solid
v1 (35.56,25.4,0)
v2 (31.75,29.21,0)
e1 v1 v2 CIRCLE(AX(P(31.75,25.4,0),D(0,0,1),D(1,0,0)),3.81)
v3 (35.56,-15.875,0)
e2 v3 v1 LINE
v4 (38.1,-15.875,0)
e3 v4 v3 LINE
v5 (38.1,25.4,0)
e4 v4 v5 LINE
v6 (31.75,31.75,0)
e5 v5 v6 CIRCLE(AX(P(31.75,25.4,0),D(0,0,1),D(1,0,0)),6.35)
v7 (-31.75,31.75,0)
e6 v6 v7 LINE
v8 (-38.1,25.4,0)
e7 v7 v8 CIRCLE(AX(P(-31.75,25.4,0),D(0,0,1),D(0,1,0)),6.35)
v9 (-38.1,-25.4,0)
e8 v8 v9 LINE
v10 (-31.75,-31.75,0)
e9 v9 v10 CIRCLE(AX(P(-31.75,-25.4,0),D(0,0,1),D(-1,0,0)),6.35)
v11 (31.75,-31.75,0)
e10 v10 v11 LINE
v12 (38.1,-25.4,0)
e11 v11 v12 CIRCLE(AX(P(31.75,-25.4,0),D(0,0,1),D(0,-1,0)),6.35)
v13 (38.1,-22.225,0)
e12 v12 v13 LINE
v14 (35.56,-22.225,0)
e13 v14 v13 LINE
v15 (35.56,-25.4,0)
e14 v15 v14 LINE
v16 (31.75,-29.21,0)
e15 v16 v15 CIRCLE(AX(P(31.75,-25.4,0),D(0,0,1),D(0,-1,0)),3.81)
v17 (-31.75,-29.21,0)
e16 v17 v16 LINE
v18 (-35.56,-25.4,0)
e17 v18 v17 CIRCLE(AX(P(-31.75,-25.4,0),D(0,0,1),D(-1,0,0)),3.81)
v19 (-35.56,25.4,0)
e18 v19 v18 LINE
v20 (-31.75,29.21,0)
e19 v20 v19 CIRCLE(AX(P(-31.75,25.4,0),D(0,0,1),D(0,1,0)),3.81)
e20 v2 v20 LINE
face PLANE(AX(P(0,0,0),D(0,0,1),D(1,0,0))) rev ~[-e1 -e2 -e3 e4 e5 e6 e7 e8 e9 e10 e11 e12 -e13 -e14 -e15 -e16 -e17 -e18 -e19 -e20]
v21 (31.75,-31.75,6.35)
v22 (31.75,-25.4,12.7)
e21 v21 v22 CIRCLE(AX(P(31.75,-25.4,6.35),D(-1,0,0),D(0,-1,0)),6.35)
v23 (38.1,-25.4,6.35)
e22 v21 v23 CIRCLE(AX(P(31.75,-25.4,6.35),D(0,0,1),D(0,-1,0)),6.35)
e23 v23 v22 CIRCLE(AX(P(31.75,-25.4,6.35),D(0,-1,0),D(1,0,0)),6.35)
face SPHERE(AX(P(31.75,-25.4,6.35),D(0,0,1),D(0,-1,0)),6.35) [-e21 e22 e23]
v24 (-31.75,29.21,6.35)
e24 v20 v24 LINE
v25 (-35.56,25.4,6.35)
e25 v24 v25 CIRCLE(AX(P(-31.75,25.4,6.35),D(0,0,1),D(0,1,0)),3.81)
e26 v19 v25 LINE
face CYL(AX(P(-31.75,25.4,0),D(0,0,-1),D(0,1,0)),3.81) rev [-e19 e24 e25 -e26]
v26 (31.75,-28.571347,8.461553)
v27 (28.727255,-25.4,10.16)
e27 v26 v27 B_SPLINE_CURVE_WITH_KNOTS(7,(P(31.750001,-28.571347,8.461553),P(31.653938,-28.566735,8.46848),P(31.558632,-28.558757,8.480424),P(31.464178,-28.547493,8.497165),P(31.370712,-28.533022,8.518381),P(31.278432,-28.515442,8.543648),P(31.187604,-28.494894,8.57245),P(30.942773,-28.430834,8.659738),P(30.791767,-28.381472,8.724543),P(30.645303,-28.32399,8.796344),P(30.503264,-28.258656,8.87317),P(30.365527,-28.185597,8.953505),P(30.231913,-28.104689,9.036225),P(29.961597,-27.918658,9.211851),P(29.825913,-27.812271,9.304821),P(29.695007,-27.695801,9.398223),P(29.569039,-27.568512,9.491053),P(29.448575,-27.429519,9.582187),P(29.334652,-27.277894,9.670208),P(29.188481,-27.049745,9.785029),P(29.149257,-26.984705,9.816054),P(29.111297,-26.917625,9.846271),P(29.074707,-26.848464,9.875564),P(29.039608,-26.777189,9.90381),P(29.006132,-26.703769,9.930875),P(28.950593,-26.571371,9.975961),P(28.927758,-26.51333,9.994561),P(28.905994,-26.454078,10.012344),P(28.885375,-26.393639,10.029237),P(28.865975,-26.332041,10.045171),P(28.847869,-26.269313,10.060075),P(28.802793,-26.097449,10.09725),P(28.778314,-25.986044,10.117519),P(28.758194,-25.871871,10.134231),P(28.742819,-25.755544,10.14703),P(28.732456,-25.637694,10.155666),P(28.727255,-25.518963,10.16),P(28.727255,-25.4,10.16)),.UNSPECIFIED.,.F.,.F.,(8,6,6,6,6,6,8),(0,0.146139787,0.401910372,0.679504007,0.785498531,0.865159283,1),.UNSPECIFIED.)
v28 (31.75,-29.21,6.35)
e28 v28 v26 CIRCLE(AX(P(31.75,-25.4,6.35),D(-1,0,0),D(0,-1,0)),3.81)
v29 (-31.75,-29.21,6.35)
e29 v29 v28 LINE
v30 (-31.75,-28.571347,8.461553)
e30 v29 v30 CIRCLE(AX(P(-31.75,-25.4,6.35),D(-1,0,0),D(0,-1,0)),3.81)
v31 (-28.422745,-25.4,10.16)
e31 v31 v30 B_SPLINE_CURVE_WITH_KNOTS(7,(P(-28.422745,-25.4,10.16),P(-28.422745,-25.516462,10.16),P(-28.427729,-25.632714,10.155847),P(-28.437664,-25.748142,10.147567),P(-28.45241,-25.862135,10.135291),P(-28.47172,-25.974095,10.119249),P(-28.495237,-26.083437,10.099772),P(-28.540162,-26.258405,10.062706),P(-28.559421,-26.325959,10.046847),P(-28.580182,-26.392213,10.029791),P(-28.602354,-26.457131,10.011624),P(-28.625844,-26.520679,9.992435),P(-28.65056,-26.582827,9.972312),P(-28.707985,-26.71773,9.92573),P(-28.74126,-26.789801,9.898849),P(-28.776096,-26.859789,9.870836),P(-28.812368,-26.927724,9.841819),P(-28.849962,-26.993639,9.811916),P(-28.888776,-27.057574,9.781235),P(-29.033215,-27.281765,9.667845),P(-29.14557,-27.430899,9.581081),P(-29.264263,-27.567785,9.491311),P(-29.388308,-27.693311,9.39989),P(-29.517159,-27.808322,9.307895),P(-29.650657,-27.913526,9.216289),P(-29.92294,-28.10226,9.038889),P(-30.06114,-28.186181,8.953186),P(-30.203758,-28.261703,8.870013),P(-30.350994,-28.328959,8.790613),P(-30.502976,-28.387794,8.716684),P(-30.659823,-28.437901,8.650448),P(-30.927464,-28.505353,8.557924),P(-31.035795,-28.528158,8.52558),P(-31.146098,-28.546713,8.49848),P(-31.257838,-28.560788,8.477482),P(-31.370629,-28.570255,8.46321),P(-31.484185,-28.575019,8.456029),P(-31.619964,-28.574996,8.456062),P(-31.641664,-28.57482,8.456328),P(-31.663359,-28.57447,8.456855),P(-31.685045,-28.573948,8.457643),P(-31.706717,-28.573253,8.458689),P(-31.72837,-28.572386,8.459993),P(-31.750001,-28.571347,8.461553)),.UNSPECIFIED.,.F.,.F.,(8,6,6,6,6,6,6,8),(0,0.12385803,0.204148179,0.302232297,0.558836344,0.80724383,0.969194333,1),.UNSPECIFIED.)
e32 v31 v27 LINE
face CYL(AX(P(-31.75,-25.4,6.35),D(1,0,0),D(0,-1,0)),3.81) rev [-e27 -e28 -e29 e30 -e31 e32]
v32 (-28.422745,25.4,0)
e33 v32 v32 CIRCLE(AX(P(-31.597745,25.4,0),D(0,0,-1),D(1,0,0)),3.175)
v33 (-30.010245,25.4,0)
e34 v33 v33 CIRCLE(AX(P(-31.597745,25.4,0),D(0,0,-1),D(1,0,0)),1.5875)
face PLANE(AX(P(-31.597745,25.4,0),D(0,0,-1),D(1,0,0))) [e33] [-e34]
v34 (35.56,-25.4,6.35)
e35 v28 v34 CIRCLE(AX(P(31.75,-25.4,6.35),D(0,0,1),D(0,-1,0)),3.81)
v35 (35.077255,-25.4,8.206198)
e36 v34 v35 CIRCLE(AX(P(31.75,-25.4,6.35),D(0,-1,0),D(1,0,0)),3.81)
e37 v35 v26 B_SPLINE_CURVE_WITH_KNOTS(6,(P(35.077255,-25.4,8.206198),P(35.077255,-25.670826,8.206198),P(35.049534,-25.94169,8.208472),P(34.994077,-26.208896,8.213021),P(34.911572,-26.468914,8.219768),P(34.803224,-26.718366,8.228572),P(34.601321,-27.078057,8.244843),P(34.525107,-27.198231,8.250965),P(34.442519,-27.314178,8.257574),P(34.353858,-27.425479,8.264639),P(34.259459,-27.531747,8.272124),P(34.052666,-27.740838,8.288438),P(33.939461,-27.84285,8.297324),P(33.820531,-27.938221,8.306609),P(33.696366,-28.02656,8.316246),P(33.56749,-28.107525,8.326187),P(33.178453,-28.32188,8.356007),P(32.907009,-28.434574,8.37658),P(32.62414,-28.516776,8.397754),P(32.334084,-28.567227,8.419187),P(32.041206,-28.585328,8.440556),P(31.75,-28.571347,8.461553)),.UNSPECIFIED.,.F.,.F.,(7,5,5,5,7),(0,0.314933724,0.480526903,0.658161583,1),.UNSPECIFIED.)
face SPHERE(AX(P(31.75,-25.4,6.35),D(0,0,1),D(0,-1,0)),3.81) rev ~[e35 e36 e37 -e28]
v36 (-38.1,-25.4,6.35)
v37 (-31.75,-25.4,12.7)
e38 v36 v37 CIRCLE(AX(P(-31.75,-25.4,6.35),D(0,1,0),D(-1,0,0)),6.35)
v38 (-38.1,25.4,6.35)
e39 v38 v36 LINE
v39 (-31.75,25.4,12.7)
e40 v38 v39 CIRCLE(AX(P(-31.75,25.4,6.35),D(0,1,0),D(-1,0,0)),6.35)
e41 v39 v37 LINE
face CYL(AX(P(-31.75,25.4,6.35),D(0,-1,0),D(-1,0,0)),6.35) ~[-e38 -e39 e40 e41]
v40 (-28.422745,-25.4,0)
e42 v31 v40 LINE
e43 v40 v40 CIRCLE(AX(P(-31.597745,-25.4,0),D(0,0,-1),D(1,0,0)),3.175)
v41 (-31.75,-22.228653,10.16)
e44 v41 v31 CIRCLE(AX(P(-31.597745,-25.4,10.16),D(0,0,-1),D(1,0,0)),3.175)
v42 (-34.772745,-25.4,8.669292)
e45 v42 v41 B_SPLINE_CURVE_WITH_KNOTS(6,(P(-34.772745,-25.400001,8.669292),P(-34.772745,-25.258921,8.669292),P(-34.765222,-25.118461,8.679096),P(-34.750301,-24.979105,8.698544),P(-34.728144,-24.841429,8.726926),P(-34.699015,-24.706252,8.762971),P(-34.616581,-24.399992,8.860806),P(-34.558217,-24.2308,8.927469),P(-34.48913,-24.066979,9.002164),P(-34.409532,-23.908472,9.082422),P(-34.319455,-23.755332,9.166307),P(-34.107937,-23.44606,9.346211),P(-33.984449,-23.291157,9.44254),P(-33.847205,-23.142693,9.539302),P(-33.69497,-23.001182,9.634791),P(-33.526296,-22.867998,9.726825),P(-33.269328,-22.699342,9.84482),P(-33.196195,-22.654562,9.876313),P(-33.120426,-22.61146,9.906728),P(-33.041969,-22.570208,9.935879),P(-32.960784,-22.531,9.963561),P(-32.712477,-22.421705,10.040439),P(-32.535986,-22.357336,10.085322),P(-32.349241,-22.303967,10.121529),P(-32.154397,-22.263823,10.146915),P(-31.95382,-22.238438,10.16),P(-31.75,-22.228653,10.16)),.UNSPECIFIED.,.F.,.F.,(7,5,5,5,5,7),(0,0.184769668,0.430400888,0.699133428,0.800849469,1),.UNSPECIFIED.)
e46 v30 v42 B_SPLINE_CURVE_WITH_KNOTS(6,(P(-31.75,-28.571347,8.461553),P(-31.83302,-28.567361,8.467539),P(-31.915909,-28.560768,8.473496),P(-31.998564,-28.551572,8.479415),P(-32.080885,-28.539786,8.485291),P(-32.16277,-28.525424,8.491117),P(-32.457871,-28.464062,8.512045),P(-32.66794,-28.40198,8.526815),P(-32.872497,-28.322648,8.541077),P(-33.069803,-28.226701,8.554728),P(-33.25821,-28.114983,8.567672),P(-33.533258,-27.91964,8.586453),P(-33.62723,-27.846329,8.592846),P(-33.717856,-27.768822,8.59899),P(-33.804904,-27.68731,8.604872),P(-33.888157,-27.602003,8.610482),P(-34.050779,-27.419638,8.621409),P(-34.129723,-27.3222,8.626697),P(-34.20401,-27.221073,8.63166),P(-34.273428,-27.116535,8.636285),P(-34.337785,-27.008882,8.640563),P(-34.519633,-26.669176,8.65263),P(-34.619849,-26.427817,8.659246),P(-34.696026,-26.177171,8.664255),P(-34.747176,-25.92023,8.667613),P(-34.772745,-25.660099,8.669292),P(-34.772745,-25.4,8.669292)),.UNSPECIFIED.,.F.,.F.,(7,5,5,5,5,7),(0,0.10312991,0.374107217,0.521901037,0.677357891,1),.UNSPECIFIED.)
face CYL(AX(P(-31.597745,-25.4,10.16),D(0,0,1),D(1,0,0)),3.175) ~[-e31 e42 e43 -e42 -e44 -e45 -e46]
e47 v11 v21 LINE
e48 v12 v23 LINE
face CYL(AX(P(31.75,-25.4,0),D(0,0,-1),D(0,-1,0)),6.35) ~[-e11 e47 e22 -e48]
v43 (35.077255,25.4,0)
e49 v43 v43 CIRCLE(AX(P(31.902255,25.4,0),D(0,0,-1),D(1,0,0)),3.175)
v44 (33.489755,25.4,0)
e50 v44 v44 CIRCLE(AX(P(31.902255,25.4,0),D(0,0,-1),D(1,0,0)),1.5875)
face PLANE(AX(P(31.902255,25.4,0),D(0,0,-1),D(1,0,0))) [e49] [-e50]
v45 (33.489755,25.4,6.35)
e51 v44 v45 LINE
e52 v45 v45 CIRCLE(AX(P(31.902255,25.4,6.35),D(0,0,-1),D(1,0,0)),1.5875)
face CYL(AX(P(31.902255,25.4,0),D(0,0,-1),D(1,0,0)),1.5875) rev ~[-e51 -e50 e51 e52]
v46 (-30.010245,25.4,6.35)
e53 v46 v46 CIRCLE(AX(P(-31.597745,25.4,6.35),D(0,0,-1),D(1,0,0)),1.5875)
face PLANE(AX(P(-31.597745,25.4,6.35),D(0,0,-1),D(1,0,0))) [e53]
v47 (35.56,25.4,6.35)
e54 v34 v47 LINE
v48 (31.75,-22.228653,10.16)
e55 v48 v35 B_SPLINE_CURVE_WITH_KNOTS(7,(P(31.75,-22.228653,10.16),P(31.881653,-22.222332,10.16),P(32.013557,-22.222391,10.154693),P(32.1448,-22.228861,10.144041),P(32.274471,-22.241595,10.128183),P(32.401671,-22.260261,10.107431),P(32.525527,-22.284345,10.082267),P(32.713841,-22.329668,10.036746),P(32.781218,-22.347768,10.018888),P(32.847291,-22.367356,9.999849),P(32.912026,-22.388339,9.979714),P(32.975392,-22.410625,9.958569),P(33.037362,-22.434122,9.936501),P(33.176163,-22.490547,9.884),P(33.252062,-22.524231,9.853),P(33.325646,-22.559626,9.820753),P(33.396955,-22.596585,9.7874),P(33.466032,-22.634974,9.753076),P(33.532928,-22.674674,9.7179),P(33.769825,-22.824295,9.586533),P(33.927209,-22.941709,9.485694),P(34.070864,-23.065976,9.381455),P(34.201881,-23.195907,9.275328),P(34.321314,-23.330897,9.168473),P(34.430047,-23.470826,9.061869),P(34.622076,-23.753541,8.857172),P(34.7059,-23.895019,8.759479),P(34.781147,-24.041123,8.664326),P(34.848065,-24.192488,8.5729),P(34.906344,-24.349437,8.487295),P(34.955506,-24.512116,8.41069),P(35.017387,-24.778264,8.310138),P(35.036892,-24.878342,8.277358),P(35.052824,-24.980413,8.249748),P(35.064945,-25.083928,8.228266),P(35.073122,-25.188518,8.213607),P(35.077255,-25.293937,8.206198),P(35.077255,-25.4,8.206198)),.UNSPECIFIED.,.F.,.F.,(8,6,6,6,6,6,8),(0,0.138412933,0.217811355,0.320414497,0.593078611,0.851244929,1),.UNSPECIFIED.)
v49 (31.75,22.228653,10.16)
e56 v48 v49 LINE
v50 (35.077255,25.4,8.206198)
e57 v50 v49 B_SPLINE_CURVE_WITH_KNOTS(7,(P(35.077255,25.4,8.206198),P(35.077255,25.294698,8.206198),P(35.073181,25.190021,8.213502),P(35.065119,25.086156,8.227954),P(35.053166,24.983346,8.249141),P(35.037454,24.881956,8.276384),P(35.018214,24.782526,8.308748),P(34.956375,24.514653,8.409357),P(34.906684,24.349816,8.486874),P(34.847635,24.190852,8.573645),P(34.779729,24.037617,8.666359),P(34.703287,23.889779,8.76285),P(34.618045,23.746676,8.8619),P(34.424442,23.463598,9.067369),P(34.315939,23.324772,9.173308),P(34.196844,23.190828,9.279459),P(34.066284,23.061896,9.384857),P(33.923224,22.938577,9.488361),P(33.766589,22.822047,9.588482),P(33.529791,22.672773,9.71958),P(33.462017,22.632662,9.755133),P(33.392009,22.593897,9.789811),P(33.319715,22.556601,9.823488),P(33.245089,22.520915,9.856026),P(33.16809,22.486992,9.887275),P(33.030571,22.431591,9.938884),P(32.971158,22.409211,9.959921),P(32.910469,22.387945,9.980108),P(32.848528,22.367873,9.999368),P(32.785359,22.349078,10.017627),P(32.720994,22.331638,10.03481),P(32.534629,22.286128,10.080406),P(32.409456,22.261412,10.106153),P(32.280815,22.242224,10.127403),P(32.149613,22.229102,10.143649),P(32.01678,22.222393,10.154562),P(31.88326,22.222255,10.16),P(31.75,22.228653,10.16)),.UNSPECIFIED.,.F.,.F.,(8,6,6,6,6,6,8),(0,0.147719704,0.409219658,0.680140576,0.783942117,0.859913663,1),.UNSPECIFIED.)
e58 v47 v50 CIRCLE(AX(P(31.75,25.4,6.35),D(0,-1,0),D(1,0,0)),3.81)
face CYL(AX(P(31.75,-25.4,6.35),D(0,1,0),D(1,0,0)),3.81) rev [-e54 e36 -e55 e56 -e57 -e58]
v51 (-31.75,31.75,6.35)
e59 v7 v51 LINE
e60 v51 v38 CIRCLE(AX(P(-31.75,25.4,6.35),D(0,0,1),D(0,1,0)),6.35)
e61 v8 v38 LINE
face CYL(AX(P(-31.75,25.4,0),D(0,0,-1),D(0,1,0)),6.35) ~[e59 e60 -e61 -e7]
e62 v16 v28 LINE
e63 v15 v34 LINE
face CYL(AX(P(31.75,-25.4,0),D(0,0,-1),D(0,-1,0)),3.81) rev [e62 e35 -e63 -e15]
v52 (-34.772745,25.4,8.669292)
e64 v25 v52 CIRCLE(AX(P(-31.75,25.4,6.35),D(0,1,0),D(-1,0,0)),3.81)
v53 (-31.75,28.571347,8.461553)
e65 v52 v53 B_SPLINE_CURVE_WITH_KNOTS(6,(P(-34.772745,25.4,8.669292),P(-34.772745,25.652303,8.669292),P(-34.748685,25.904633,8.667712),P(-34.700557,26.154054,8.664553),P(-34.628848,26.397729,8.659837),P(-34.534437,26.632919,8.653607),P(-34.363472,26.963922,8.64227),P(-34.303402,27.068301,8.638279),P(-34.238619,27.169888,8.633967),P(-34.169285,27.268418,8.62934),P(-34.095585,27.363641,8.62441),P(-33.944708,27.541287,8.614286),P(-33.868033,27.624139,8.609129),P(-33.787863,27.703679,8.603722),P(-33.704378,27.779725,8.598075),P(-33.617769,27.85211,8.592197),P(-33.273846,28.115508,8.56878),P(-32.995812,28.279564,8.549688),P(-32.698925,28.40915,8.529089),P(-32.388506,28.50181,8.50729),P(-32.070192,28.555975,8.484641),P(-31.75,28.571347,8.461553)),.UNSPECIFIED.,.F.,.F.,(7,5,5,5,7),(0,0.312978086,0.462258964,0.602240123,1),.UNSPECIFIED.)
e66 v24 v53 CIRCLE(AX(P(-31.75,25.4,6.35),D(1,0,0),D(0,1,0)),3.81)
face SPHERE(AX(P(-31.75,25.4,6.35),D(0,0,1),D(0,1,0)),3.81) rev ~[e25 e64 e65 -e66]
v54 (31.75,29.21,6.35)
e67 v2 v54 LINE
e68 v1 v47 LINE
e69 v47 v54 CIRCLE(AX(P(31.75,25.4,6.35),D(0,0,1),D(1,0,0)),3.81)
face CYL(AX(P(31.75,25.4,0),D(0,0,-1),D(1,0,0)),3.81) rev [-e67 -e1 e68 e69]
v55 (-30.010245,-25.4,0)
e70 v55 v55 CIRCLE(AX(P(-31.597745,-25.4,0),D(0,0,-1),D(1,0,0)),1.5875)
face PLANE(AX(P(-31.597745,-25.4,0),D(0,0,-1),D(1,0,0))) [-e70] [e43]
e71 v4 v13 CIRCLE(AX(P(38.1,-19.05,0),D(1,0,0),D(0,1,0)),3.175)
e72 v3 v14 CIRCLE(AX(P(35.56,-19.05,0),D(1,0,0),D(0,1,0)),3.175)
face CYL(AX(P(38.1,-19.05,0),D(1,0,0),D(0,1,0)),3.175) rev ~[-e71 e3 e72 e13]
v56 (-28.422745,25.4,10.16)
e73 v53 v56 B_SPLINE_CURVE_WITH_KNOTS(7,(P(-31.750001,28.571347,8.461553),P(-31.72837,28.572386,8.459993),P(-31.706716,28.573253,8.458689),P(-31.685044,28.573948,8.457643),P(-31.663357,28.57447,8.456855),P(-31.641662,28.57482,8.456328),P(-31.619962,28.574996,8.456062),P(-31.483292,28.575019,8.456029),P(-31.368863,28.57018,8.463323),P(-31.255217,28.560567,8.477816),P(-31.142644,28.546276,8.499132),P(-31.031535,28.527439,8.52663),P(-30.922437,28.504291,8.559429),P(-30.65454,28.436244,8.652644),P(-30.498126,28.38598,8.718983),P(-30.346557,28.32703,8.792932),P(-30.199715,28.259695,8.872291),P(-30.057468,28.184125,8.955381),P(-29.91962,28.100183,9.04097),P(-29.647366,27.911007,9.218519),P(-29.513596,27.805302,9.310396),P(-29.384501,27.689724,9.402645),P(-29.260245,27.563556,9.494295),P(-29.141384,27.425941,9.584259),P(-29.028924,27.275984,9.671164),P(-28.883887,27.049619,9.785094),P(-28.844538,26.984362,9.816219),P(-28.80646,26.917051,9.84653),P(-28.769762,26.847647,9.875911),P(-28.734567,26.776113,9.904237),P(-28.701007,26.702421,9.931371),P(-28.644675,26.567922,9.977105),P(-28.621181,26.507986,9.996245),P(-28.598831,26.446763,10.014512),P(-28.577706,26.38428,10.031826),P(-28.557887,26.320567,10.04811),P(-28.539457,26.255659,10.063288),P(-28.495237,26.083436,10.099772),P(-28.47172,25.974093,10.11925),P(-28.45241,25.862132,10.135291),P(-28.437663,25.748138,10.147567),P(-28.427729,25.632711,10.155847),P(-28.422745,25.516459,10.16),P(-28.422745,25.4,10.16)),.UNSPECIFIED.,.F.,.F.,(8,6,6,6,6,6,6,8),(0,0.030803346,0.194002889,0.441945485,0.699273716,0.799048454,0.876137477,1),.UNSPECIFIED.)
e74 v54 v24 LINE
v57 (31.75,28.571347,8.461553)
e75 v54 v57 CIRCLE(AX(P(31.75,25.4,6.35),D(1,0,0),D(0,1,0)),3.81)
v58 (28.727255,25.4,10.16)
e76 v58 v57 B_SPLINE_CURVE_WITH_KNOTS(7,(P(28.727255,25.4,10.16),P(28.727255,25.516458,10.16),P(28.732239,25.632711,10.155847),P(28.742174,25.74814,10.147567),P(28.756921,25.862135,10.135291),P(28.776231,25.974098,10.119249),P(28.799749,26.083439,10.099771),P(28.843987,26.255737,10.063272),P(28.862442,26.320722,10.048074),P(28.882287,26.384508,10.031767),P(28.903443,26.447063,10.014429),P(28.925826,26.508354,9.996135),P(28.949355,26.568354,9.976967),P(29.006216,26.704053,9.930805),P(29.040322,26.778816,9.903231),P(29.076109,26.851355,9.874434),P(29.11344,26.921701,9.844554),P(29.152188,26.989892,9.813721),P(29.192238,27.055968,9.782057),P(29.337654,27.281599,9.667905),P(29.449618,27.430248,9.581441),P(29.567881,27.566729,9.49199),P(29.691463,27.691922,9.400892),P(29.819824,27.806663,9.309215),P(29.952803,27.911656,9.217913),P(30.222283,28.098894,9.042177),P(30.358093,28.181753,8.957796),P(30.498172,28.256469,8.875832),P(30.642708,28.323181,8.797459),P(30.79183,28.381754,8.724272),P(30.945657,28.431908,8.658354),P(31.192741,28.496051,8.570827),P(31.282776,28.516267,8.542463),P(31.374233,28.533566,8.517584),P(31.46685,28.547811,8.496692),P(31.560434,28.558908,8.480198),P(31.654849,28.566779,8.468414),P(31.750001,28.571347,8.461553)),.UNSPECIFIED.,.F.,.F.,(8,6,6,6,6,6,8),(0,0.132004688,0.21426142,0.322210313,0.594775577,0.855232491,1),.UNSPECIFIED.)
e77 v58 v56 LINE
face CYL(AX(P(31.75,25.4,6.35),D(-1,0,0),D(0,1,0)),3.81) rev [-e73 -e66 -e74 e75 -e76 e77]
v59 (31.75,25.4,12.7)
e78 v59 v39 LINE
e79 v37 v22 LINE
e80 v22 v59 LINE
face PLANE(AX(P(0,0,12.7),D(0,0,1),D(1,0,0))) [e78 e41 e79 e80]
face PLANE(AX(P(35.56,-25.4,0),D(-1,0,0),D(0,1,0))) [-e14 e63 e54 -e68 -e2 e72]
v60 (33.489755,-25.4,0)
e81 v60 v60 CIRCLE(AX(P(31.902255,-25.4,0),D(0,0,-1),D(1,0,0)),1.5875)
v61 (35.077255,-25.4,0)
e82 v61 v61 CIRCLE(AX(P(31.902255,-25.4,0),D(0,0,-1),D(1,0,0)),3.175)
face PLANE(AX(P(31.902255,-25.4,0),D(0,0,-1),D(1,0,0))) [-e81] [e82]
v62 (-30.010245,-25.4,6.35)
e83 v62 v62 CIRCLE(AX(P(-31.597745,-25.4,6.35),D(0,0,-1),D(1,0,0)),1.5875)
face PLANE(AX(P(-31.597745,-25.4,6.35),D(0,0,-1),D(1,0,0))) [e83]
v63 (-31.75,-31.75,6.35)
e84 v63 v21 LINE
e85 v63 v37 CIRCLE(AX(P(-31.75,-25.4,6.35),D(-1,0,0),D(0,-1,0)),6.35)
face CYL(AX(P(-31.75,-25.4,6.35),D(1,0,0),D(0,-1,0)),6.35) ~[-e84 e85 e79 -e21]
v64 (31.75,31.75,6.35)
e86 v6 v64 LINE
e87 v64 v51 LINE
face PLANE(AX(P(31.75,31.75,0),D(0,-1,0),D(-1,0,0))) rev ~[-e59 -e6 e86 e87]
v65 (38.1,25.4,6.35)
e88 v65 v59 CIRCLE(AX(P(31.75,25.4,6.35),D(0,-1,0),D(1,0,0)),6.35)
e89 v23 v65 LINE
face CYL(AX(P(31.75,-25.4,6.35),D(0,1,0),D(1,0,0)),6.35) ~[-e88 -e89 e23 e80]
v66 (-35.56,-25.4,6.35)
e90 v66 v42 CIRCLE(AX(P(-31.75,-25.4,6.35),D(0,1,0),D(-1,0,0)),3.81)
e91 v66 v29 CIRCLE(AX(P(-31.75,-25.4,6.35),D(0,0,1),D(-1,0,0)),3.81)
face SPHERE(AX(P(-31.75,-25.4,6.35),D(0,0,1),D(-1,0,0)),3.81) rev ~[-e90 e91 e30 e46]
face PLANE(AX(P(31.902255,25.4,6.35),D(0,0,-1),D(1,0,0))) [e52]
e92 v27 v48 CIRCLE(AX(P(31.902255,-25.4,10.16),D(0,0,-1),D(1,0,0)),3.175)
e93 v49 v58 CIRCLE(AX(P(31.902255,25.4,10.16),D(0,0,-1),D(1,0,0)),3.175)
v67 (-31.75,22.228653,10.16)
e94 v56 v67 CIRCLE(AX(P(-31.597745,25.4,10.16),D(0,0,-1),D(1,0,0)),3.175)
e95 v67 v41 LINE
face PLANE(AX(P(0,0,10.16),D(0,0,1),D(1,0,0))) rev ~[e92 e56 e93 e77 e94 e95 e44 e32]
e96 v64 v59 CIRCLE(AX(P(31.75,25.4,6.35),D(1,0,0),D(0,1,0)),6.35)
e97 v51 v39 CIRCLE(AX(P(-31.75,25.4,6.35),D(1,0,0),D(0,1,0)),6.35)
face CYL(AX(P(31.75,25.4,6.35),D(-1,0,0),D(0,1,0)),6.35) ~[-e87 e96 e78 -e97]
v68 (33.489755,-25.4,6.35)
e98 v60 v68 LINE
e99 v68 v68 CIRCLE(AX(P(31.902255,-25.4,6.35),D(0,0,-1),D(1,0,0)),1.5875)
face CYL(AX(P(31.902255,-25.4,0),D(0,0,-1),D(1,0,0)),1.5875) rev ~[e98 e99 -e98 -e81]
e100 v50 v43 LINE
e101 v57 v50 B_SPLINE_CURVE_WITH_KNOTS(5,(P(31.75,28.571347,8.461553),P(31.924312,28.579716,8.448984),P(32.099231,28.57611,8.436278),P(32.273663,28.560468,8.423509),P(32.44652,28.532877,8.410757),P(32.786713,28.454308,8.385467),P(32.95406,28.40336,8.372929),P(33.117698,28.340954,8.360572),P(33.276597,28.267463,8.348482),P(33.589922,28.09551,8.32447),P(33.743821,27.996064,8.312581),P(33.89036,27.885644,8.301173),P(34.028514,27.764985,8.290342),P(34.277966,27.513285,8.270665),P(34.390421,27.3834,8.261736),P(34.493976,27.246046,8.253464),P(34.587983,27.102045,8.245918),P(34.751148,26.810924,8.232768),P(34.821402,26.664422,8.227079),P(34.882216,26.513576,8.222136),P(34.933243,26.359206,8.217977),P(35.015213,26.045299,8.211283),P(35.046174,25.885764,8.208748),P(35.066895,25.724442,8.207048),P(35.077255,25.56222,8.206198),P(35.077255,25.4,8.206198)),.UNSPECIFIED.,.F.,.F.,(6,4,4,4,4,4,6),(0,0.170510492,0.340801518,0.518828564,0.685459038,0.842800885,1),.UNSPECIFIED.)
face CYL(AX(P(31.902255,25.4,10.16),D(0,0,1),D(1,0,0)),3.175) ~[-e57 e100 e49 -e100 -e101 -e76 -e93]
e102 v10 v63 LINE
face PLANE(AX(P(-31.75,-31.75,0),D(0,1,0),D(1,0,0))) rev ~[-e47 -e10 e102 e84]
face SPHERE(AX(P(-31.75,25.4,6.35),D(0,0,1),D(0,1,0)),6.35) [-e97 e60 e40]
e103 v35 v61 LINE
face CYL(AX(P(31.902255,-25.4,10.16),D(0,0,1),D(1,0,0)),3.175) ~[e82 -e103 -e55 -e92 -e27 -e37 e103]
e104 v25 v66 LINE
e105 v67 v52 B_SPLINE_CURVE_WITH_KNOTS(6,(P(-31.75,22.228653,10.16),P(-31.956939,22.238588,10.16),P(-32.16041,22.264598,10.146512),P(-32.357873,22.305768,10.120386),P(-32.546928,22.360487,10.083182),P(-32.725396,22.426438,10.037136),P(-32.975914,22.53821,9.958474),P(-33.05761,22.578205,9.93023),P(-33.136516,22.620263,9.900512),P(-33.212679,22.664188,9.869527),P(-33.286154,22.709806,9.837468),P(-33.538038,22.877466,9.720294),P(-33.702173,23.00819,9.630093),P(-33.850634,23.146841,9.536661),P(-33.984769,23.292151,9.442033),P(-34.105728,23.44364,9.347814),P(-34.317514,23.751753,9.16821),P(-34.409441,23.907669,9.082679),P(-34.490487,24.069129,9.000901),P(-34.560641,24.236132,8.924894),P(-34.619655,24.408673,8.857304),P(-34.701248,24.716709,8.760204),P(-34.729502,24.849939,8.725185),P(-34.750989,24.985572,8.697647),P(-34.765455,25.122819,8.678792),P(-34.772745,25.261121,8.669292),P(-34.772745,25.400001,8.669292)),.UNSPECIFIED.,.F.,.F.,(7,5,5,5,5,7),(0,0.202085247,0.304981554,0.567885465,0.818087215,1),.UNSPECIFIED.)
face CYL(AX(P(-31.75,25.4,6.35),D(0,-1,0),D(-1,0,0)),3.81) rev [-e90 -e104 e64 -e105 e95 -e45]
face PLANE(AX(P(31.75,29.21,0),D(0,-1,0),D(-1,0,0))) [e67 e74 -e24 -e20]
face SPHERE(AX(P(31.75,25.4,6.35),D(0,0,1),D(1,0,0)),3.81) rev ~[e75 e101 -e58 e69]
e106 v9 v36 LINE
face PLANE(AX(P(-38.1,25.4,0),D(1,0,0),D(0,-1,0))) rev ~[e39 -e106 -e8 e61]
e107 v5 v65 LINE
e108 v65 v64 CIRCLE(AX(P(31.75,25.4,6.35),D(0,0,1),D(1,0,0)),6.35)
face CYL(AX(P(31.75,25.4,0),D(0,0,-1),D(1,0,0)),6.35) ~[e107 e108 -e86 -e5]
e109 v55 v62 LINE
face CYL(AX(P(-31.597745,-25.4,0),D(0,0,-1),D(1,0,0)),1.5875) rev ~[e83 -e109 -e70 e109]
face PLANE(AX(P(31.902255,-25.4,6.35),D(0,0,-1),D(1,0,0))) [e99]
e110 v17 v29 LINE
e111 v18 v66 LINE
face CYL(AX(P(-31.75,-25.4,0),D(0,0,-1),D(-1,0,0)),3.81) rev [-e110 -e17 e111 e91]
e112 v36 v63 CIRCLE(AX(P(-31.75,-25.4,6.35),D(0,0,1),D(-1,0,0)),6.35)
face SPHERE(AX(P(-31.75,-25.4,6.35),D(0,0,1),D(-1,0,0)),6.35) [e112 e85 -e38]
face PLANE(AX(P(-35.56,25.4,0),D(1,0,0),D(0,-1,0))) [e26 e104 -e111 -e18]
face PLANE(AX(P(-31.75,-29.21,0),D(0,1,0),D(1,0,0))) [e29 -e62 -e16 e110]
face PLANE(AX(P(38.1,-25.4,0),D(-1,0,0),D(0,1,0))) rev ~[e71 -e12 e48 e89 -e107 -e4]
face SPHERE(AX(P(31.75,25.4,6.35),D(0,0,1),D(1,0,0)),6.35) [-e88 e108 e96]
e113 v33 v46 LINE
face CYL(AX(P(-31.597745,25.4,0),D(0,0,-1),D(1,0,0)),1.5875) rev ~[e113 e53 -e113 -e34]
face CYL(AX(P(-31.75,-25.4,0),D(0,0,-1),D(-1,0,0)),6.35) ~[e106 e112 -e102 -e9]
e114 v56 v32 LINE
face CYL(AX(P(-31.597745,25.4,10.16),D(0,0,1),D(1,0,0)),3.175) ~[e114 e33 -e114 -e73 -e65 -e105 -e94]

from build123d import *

# Parameters (mm, degrees)
F1_DEPTH  = 12.7
F2_R      = 6.35
F3_T      = -2.54
F4_R      = 3.175
F5_DEPTH  = 73.66
F7_R      = 3.175
F8_DEPTH  = 10.16
F9_R      = 1.5875
F10_DEPTH = 6.35


with BuildPart() as f1:
    # F0 (on Top) → F1 (new body)
    with BuildSketch(Plane.XY):
        with BuildLine():
            Line((-31.75, -31.75), (31.75, -31.75))
            ThreePointArc((31.75, -31.75), (36.2401280605, -29.8901280605), (38.1, -25.4))
            Line((38.1, -25.4), (38.1, 25.4))
            ThreePointArc((38.1, 25.4), (36.2401280605, 29.8901280605), (31.75, 31.75))
            Line((31.75, 31.75), (-31.75, 31.75))
            ThreePointArc((-31.75, 31.75), (-36.2401280605, 29.8901280605), (-38.1, 25.4))
            Line((-38.1, 25.4), (-38.1, -25.4))
            ThreePointArc((-38.1, -25.4), (-36.2401280605, -29.8901280605), (-31.75, -31.75))
        make_face()
    extrude(amount=F1_DEPTH)

    # F2
    f2_edges = [f1.edges().sort_by_distance(p)[0] for p in [
        (0, -31.75, 12.7),
        (36.240128, -29.890128, 12.7),
        (38.1, 0, 12.7),
        (36.240128, 29.890128, 12.7),
        (0, 31.75, 12.7),
        (-36.240128, 29.890128, 12.7),
        (-38.1, 0, 12.7),
        (-36.240128, -29.890128, 12.7),
    ]]
    fillet(f2_edges, radius=F2_R)

    # F3
    f3_openings = [f1.faces().sort_by_distance(p)[0] for p in [
        (0, 0, 0),
    ]]
    offset(amount=F3_T, openings=f3_openings)

    # F4 (on face) → F5 (cut, through all)
    with BuildSketch(Plane.YZ.offset(38.1)):
        with Locations((-19.05, 0)):
            Circle(F4_R)
    extrude(amount=-F5_DEPTH, mode=Mode.SUBTRACT)

    # F7 (on offset) → F8 (join, through all)
    with BuildSketch(Plane(origin=(0, 0, 10.16), x_dir=(1, 0, 0), z_dir=(0, 0, -1))):
        with Locations((-31.5977446735, 25.4)):
            Circle(F7_R)
        with Locations((-31.5977446735, -25.4)):
            Circle(F7_R)
        with Locations((31.9022553265, 25.4)):
            Circle(F7_R)
        with Locations((31.9022553265, -25.4)):
            Circle(F7_R)
    extrude(amount=F8_DEPTH)

    # F9 (on face) → F10 (cut)
    with BuildSketch(Plane(origin=(0, 0, 0), x_dir=(1, 0, 0), z_dir=(0, 0, -1))):
        with Locations((-31.5977446735, 25.4)):
            Circle(F9_R)
        with Locations((-31.5977446735, -25.4)):
            Circle(F9_R)
        with Locations((31.9022553265, 25.4)):
            Circle(F9_R)
        with Locations((31.9022553265, -25.4)):
            Circle(F9_R)
    extrude(amount=-F10_DEPTH, mode=Mode.SUBTRACT)


solid = f1.part
